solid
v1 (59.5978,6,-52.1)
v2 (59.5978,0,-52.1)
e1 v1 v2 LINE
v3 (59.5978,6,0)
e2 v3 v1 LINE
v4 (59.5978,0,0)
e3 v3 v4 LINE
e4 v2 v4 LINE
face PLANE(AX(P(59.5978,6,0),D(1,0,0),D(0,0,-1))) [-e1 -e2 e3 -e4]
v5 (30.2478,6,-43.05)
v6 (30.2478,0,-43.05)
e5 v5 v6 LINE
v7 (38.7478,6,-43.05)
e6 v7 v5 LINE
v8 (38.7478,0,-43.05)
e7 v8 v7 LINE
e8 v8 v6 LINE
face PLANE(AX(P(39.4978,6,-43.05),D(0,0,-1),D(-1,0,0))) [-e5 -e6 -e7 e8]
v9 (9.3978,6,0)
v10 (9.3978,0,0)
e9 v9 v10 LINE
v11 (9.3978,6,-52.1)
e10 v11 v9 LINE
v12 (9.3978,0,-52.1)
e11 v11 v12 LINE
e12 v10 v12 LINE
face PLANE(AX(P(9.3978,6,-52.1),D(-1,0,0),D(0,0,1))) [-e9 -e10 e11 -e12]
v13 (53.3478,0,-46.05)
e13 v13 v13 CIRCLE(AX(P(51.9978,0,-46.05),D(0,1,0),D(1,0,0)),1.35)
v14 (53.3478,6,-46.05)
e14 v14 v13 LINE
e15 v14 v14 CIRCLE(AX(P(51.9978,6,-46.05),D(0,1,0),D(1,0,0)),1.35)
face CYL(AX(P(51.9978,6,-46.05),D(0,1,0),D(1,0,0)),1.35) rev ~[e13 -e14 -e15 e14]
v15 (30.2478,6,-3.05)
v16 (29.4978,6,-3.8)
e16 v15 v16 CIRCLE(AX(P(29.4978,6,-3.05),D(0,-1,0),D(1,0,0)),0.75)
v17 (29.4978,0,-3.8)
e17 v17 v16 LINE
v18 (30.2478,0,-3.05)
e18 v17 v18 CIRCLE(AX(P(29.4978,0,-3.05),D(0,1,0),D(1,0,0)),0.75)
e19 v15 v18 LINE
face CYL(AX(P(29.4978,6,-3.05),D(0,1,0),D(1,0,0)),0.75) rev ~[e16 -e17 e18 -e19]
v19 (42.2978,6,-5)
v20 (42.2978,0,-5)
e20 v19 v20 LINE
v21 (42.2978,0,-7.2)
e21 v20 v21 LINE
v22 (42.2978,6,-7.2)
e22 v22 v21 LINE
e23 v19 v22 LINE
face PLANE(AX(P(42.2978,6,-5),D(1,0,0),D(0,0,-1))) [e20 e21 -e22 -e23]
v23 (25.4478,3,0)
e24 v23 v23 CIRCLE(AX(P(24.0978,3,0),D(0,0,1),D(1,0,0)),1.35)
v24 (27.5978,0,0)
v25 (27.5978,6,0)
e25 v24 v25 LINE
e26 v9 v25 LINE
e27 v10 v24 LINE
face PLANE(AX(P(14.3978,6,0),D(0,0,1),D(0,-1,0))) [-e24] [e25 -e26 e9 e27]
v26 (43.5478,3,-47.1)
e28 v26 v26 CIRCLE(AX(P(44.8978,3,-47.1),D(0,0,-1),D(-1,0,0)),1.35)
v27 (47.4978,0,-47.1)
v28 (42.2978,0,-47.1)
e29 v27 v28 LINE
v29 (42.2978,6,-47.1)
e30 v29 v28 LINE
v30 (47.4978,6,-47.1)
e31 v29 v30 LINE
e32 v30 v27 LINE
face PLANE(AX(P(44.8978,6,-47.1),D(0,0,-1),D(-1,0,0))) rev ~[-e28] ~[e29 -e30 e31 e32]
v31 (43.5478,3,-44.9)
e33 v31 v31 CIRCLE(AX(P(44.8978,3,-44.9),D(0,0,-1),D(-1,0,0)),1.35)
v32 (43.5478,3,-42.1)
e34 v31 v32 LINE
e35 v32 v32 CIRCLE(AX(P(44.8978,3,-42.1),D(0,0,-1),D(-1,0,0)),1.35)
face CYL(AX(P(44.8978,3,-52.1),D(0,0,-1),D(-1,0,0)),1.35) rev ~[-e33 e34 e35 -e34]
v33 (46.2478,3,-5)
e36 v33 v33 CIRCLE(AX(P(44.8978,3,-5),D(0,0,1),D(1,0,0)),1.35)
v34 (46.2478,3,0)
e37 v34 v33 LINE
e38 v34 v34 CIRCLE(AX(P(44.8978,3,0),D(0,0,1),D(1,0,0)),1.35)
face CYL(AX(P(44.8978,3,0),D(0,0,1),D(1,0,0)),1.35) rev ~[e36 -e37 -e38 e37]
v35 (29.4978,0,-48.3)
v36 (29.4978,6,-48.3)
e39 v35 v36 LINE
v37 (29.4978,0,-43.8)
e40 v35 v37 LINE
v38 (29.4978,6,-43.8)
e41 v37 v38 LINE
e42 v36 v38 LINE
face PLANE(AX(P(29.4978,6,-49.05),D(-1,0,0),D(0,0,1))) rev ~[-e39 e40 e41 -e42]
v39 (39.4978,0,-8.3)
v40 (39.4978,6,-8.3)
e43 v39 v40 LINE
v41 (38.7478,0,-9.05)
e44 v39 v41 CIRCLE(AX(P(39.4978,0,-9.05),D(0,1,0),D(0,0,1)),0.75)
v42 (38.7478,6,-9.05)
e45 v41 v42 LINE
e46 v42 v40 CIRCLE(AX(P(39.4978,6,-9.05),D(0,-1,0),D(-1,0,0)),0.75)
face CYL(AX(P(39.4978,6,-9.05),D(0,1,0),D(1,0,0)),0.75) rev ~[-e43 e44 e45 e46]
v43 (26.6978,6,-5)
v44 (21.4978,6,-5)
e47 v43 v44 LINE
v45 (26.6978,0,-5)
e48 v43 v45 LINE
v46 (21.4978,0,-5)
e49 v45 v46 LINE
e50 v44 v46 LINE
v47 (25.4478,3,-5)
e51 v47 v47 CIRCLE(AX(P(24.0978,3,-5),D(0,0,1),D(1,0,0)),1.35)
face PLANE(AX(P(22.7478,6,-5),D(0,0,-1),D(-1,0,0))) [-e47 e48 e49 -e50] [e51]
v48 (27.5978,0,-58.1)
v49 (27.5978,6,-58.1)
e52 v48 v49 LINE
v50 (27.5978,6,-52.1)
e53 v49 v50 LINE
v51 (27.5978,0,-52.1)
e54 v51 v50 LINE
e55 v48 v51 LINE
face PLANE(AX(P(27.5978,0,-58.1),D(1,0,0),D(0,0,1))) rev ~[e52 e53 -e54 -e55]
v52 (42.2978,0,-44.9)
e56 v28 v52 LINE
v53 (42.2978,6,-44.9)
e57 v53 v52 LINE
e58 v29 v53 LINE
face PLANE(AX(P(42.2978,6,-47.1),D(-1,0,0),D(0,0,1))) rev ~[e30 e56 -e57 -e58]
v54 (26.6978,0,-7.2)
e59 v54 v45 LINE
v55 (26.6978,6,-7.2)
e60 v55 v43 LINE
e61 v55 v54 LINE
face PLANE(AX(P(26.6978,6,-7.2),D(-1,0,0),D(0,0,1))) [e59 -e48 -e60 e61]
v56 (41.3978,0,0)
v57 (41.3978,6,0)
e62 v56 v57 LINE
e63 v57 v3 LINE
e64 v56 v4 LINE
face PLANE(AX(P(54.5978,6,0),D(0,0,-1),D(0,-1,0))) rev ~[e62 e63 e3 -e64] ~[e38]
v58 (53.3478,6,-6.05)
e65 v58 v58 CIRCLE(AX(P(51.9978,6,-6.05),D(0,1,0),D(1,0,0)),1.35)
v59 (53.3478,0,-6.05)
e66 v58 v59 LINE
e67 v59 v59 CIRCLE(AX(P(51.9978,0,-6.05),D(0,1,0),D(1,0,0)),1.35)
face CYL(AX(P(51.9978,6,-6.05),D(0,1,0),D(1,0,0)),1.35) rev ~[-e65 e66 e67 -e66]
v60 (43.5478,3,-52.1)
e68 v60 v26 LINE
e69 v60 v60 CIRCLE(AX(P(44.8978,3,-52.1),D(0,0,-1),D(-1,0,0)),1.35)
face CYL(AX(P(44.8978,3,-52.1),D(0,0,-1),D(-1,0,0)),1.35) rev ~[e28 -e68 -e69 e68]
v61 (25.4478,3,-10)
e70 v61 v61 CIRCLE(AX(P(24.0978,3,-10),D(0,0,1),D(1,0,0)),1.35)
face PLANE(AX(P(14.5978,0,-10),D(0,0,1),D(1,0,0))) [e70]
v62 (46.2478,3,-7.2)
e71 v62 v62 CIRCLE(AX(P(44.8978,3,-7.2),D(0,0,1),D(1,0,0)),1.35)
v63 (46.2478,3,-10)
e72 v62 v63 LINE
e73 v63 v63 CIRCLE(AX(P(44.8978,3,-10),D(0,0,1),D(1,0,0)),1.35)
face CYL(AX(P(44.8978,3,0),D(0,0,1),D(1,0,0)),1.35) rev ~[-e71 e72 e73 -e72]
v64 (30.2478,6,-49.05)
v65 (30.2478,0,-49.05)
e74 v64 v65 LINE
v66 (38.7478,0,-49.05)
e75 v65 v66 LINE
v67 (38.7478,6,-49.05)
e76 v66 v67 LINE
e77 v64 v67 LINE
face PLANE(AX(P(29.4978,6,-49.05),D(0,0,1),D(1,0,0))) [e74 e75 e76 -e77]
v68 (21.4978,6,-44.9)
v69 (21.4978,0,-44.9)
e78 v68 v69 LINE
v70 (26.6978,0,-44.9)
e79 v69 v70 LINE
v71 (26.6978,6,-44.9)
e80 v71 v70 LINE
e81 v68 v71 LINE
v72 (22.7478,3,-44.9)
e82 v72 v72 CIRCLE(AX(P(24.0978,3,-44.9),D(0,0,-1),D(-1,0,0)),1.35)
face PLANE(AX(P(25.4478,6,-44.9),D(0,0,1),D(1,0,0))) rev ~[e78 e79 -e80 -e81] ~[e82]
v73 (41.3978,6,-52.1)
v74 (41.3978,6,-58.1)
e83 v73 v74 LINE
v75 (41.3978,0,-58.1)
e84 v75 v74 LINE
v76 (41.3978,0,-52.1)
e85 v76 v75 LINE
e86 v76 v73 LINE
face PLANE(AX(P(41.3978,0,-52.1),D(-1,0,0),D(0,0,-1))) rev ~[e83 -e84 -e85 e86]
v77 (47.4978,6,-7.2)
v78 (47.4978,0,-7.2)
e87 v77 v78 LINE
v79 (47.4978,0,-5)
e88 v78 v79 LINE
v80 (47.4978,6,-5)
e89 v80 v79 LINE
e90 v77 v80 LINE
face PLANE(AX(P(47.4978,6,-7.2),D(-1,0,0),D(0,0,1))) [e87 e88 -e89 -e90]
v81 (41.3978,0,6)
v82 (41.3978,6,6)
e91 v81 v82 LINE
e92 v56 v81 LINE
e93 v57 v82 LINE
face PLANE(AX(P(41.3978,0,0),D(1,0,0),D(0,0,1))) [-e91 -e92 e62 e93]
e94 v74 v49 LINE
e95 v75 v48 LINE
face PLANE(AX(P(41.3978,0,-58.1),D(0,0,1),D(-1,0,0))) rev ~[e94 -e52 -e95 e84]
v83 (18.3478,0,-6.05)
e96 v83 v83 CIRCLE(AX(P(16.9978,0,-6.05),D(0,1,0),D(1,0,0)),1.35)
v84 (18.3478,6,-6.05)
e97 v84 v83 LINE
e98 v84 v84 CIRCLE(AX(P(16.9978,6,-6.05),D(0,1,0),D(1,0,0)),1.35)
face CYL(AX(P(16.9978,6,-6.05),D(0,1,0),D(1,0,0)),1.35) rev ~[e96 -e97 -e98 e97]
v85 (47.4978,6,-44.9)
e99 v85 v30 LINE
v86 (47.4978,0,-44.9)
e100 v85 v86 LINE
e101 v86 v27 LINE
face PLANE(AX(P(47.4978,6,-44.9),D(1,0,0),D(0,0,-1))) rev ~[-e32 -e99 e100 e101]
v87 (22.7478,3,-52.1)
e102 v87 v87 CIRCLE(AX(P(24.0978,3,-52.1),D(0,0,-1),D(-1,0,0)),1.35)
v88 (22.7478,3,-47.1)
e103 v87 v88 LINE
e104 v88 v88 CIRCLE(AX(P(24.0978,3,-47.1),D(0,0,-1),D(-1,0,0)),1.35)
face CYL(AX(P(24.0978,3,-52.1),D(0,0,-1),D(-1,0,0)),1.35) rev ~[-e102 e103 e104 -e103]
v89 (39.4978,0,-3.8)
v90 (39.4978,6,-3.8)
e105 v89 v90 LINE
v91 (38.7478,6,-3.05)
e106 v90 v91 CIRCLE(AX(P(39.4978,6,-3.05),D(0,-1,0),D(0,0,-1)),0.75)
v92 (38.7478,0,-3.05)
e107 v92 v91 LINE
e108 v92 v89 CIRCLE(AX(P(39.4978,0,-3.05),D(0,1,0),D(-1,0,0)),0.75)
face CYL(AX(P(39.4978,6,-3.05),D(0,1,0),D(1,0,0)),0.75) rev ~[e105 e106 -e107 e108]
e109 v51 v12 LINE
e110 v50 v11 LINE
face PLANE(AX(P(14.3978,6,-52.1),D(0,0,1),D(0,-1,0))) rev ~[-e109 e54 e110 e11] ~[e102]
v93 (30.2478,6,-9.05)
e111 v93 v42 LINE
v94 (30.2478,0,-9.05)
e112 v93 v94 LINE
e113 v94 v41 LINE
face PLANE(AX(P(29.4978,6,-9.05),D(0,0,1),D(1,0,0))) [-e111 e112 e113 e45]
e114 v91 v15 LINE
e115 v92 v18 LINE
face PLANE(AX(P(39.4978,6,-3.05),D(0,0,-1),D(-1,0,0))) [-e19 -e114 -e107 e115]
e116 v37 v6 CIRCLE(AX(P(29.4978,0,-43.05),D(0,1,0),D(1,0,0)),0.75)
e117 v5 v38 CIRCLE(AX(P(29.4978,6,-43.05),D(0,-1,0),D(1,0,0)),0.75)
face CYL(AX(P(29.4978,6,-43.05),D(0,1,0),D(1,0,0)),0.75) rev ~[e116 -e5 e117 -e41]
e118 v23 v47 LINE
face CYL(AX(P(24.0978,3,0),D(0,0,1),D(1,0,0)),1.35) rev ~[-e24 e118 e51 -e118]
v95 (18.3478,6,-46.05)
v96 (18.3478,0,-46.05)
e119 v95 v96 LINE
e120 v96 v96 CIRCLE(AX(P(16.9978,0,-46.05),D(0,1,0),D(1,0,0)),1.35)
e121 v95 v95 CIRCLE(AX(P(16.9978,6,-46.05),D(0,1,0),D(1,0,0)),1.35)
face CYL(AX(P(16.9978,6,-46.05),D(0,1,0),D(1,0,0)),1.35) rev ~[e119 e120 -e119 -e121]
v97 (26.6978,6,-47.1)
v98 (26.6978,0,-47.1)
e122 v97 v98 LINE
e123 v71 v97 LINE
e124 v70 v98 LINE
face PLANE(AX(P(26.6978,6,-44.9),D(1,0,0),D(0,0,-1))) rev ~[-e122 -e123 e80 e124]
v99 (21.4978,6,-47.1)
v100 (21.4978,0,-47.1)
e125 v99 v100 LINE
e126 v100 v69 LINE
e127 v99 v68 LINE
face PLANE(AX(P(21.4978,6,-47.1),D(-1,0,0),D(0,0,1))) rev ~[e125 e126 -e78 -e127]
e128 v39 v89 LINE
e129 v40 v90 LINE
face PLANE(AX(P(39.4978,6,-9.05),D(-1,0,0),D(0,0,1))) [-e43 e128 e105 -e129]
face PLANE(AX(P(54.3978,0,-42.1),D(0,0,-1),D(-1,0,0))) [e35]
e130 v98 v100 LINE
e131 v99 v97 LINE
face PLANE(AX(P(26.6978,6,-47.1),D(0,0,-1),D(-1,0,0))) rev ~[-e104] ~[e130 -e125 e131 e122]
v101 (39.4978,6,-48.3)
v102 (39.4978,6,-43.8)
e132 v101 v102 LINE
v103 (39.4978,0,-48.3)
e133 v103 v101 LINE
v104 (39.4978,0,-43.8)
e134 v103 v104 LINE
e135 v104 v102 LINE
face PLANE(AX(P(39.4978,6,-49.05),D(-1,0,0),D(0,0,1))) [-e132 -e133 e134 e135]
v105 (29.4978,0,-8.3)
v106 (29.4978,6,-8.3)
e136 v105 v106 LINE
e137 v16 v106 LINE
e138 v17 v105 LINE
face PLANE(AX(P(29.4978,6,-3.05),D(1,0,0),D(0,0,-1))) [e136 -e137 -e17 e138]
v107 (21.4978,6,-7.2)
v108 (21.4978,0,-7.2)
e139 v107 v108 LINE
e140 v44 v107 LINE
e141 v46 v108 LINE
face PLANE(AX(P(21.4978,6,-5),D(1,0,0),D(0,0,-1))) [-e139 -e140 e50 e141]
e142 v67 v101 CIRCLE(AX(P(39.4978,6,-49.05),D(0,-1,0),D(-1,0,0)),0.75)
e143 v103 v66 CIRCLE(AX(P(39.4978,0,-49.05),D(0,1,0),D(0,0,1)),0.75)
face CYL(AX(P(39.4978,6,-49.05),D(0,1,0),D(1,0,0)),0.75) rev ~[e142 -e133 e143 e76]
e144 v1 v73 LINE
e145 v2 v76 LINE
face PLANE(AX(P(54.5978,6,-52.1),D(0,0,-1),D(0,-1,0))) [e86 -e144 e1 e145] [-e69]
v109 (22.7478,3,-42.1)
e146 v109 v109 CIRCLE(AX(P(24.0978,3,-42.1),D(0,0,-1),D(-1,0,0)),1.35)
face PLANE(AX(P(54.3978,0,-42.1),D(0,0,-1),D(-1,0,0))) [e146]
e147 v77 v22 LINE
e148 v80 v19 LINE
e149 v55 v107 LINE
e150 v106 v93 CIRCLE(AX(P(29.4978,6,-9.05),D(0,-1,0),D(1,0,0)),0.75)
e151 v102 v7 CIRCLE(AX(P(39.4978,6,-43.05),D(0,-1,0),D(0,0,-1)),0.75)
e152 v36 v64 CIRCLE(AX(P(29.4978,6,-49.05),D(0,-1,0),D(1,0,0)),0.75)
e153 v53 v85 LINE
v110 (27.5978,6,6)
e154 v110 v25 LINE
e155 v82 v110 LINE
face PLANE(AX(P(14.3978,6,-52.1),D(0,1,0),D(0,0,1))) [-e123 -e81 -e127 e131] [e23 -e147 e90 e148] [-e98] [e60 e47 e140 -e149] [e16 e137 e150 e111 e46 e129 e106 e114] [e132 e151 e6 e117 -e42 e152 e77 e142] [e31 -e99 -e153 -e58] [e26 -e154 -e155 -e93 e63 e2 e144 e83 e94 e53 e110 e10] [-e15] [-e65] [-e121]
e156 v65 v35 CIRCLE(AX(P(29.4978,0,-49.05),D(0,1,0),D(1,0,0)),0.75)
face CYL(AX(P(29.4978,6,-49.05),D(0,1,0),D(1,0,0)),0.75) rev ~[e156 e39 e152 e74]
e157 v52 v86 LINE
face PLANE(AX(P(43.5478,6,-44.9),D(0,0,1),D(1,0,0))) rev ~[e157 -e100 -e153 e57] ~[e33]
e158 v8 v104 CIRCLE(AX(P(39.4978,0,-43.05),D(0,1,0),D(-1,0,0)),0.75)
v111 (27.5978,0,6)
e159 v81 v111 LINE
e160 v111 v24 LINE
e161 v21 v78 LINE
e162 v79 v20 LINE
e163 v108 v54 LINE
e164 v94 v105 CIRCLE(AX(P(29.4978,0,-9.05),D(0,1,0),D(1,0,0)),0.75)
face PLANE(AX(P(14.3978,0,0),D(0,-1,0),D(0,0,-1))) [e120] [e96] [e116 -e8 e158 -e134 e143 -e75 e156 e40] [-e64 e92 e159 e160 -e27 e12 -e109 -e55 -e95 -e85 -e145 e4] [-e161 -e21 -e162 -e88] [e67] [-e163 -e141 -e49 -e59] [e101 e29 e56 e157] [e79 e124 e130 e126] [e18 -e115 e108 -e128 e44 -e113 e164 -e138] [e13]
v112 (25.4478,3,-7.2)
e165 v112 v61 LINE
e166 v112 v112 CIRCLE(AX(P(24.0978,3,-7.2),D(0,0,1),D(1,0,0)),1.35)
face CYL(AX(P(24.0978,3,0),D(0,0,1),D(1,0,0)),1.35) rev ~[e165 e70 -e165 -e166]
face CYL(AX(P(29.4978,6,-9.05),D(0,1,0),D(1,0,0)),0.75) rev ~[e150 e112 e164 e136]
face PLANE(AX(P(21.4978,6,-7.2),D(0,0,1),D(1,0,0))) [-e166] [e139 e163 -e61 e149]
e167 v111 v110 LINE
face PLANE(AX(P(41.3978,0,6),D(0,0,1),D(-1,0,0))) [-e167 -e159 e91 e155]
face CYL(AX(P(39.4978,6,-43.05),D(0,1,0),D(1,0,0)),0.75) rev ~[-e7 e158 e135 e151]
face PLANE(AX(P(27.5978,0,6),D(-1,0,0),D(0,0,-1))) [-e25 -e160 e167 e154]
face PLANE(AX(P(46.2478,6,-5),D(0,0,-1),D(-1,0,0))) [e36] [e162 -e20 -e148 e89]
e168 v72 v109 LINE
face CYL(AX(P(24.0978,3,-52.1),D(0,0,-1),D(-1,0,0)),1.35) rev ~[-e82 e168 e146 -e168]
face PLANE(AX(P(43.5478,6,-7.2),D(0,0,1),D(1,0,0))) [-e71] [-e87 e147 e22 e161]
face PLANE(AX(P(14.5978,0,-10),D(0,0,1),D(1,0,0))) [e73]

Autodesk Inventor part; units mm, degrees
ref_plane "YZ Plane" through (0, 0, 0) normal (1, 0, 0) x (0, 1, 0)
ref_plane "XZ Plane" through (0, 0, 0) normal (0, 1, 0) x (-1, 0, 0)
ref_plane "XY Plane" through (0, 0, 0) normal (0, 0, 1) x (1, 0, 0)
sketch "스케치1" plane through (0, 0, 0) normal (0, 1, 0) x (-1, 0, 0)
  line L0 (0, 0) -> (27.8, 0)
  line L1 (27.8, 0) -> (27.8, -52.1)
  line L2 (27.8, -52.1) -> (0, -52.1)
  line L3 (0, -52.1) -> (0, 0)
  line L4 (27.8, 0) -> (20.8, 0)
  line L5 (20.8, 0) -> (7, 0)
  line L6 (20.8, 0) -> (7, 0)
  line L7 (7, 0) -> (7, 6)
  line L8 (7, 6) -> (20.8, 6)
  line L9 (20.8, 6) -> (20.8, 0)
  line L10 (20.8, -52.1) -> (7, -52.1)
  line L11 (7, -52.1) -> (7, -58.1)
  line L12 (7, -58.1) -> (20.8, -58.1)
  line L13 (20.8, -58.1) -> (20.8, -52.1)
  line L14 (-20.5978, 0) -> (-48.3978, 0)
  line L15 (-48.3978, -52.1) -> (-20.5978, -52.1)
  line L16 (-34.4978, -52.1) -> (-27.5978, -52.1)
  line L17 (-27.5978, -52.1) -> (-41.3978, -52.1)
  line L18 (-41.3978, -52.1) -> (-41.3978, -58.1)
  line L19 (-41.3978, -58.1) -> (-27.5978, -58.1)
  line L20 (-27.5978, -58.1) -> (-27.5978, -52.1)
  line L21 (-27.5978, 0) -> (-41.3978, 0)
  line L22 (-41.3978, 0) -> (-41.3978, 6)
  line L23 (-41.3978, 6) -> (-27.5978, 6)
  line L24 (-27.5978, 6) -> (-27.5978, 0)
  line L25 (-20.5978, -52.1) -> (-14.5978, -52.1)
  line L26 (-14.5978, -52.1) -> (-14.5978, 0)
  line L27 (-14.5978, 0) -> (-20.5978, 0)
  line L28 (-48.3978, -52.1) -> (-54.3978, -52.1)
  line L29 (-54.3978, -52.1) -> (-54.3978, 0)
  line L30 (-54.3978, 0) -> (-48.3978, 0)
  line L31 (-48.3978, 0) -> (-48.3978, -52.1)
  point P0 (-27.5978, 3)
  point P1 (-41.3978, 3)
  dimension "d0" = 27.8
  dimension "d1" = 52.1
  dimension "d2" = 7
  dimension "d4" = 13.8
  dimension "d5" = 6
  dimension "d6" = 6
  dimension "d33" = 27.8
  dimension "d34" = 52.1
  dimension "d35" = 6.9
  dimension "d36" = 13.8
  dimension "d37" = 13.8
  dimension "d59" = 6
  dimension "d60" = 6
extrude "돌출1" add sketch "스케치1" along normal blind 6 contours L27 L26 L25 L15 L31 L14 | L14 L22 L23 L24 | L31 L28 L29 L30 | L20 L19 L18 L15
sketch "스케치25" plane through (14.5978, 0, 0) normal (0, 0, 1) x (1, 0, 0)
  circle A0 centre (9.5, 3) radius 1.35 projected
  circle A1 centre (30.3, 3) radius 1.35 projected
  point P0 (-14.5978, 0)
extrude "돌출21" cut sketch "스케치25" against normal blind 10
sketch "스케치26" plane through (54.3978, 0, -52.1) normal (0, 0, -1) x (-1, 0, 0)
  circle A0 centre (9.5, 3) radius 1.35 projected
  circle A1 centre (30.3, 3) radius 1.35 projected
  point P0 (54.3978, 0)
extrude "돌출22" cut sketch "스케치26" against normal blind 10
sketch "스케치27" plane through (0, 6, 0) normal (0, 1, 0) x (1, 0, 0)
  line L0 (27.5978, 52.1) -> (14.5978, 52.1) projected
  line L1 (27.5978, 52.1) -> (14.5978, 52.1) projected
  line L2 (27.5978, 58.1) -> (27.5978, 52.1) projected
  line L3 (27.5978, 52.1) -> (14.5978, 52.1) projected
  line L4 (14.5978, 52.1) -> (14.5978, 0) projected
  line L5 (14.5978, 0) -> (27.5978, 0) projected
  line L6 (27.5978, 0) -> (27.5978, -6) projected
  line L7 (27.5978, -6) -> (41.3978, -6) projected
  line L8 (41.3978, -6) -> (41.3978, 0) projected
  line L9 (41.3978, 0) -> (54.3978, 0) projected
  line L10 (54.3978, 0) -> (54.3978, 52.1) projected
  line L11 (54.3978, 52.1) -> (41.3978, 52.1) projected
  line L12 (41.3978, 52.1) -> (41.3978, 58.1) projected
  line L13 (41.3978, 58.1) -> (27.5978, 58.1) projected
  line L14 (27.5978, 58.1) -> (27.5978, 52.1) projected
  line L15 (41.3978, 58.1) -> (27.5978, 58.1) projected
  line L16 (41.3978, 52.1) -> (41.3978, 58.1) projected
  line L17 (54.3978, 52.1) -> (41.3978, 52.1) projected
  line L18 (54.3978, 0) -> (54.3978, 52.1) projected
  line L19 (41.3978, 0) -> (54.3978, 0) projected
  line L20 (41.3978, -6) -> (41.3978, 0) projected
  line L21 (27.5978, -6) -> (41.3978, -6) projected
  line L22 (27.5978, 0) -> (27.5978, -6) projected
  line L23 (14.5978, 0) -> (27.5978, 0) projected
  line L24 (14.5978, 52.1) -> (14.5978, 0) projected
  line L25 (27.5978, 52.1) -> (14.5978, 52.1) projected
  line L26 (14.5978, 52.1) -> (14.5978, 0) projected
  line L27 (14.5978, 52.1) -> (14.5978, 0) projected
  line L28 (14.5978, 52.1) -> (14.5978, 0) projected
  line L29 (14.5978, 52.1) -> (14.5978, 0) projected
  line L30 (54.3978, 0) -> (54.3978, 52.1) projected
  line L31 (54.3978, 0) -> (54.3978, 52.1) projected
  line L32 (54.3978, 0) -> (54.3978, 52.1) projected
  line L33 (54.3978, 0) -> (54.3978, 52.1) projected
  line L34 (22.7478, 42.1) -> (25.4478, 42.1) projected
  line L35 (22.7478, 42.1) -> (25.4478, 42.1) projected
  line L36 (43.5478, 42.1) -> (46.2478, 42.1) projected
  line L37 (43.5478, 52.1) -> (46.2478, 52.1) projected
  line L38 (43.5478, 52.1) -> (46.2478, 52.1) projected
  line L39 (54.3978, 52.1) -> (41.3978, 52.1) projected
  line L40 (54.3978, 52.1) -> (41.3978, 52.1) projected
  line L41 (43.5478, 52.1) -> (46.2478, 52.1) projected
  line L42 (54.3978, 52.1) -> (41.3978, 52.1) projected
  line L43 (54.3978, 52.1) -> (41.3978, 52.1) projected
  line L44 (43.5478, 42.1) -> (46.2478, 42.1) projected
  line L45 (43.5478, 42.1) -> (46.2478, 42.1) projected
  line L46 (22.7478, 52.1) -> (25.4478, 52.1) projected
  line L47 (22.7478, 52.1) -> (25.4478, 52.1) projected
  line L48 (27.5978, 52.1) -> (14.5978, 52.1) projected
  line L49 (27.5978, 52.1) -> (14.5978, 52.1) projected
  line L50 (46.2478, 10) -> (43.5478, 10) projected
  line L51 (46.2478, 10) -> (43.5478, 10) projected
  line L52 (46.2478, 10) -> (43.5478, 10) projected
  line L53 (46.2478, 0) -> (43.5478, 0) projected
  line L54 (25.4478, 10) -> (22.7478, 10) projected
  line L55 (25.4478, 10) -> (22.7478, 10) projected
  line L56 (41.3978, -6) -> (41.3978, 0) projected
  line L57 (41.3978, -6) -> (41.3978, 0) projected
  line L58 (41.3978, -6) -> (41.3978, 0) projected
  line L59 (41.3978, -6) -> (41.3978, 0) projected
  line L60 (25.4478, 10) -> (22.7478, 10) projected
  line L61 (25.4478, 0) -> (22.7478, 0) projected
  line L62 (25.4478, 0) -> (22.7478, 0) projected
  line L63 (27.5978, 0) -> (27.5978, -6) projected
  line L64 (27.5978, 0) -> (27.5978, -6) projected
  line L65 (27.5978, 0) -> (27.5978, -6) projected
  line L66 (14.5978, 0) -> (27.5978, 0) projected
  line L67 (14.5978, 0) -> (27.5978, 0) projected
  line L68 (25.4478, 0) -> (22.7478, 0) projected
  line L69 (14.5978, 0) -> (27.5978, 0) projected
  line L70 (14.5978, 0) -> (27.5978, 0) projected
  line L71 (27.5978, 0) -> (27.5978, -6) projected
  line L72 (46.2478, 0) -> (43.5478, 0) projected
  line L73 (41.3978, 0) -> (54.3978, 0) projected
  line L74 (41.3978, 0) -> (54.3978, 0) projected
  line L75 (46.2478, 0) -> (43.5478, 0) projected
  line L76 (41.3978, 0) -> (54.3978, 0) projected
  line L77 (41.3978, 0) -> (54.3978, 0) projected
  line L78 (22.7478, 42.1) -> (25.4478, 42.1) projected
  line L79 (22.7478, 52.1) -> (25.4478, 52.1) projected
  line L80 (27.5978, -6) -> (41.3978, -6) projected
  line L81 (27.5978, -6) -> (41.3978, -6) projected
  line L82 (27.5978, -6) -> (41.3978, -6) projected
  line L83 (27.5978, -6) -> (41.3978, -6) projected
  line L84 (27.5978, 58.1) -> (27.5978, 52.1) projected
  line L85 (27.5978, 58.1) -> (27.5978, 52.1) projected
  line L86 (27.5978, 58.1) -> (27.5978, 52.1) projected
  line L87 (27.5978, 58.1) -> (27.5978, 52.1) projected
  line L88 (41.3978, 58.1) -> (27.5978, 58.1) projected
  line L89 (41.3978, 58.1) -> (27.5978, 58.1) projected
  line L90 (41.3978, 58.1) -> (27.5978, 58.1) projected
  line L91 (41.3978, 58.1) -> (27.5978, 58.1) projected
  line L92 (41.3978, 52.1) -> (41.3978, 58.1) projected
  line L93 (41.3978, 52.1) -> (41.3978, 58.1) projected
  line L94 (41.3978, 52.1) -> (41.3978, 58.1) projected
  line L95 (41.3978, 52.1) -> (41.3978, 58.1) projected
  line L96 (22.7478, 52.1) -> (22.7478, 42.1) projected
  line L97 (25.4478, 52.1) -> (25.4478, 42.1) projected
  line L98 (43.5478, 52.1) -> (43.5478, 42.1) projected
  line L99 (46.2478, 52.1) -> (46.2478, 42.1) projected
  line L100 (46.2478, 0) -> (46.2478, 10) projected
  line L101 (43.5478, 0) -> (43.5478, 10) projected
  line L102 (25.4478, 0) -> (25.4478, 10) projected
  line L103 (22.7478, 0) -> (22.7478, 10) projected
  line L104 (44.8978, 0) -> (44.8978, 6.1)
  line L105 (47.4978, 5) -> (42.2978, 5)
  line L106 (42.2978, 5) -> (42.2978, 7.2)
  line L107 (42.2978, 7.2) -> (47.4978, 7.2)
  line L108 (47.4978, 7.2) -> (47.4978, 5)
  line L109 (47.4978, 5) -> (42.2978, 7.2) construction
  line L110 (42.2978, 5) -> (47.4978, 7.2) construction
  line L111 (26.6978, 5) -> (21.4978, 5)
  line L112 (21.4978, 5) -> (21.4978, 7.2)
  line L113 (21.4978, 7.2) -> (26.6978, 7.2)
  line L114 (26.6978, 7.2) -> (26.6978, 5)
  line L115 (26.6978, 5) -> (21.4978, 7.2) construction
  line L116 (21.4978, 5) -> (26.6978, 7.2) construction
  line L117 (44.8978, 52.1) -> (44.8978, 46)
  line L118 (47.4978, 47.1) -> (42.2978, 47.1)
  line L119 (42.2978, 47.1) -> (42.2978, 44.9)
  line L120 (42.2978, 44.9) -> (47.4978, 44.9)
  line L121 (47.4978, 44.9) -> (47.4978, 47.1)
  line L122 (47.4978, 47.1) -> (42.2978, 44.9) construction
  line L123 (42.2978, 47.1) -> (47.4978, 44.9) construction
  line L124 (26.6978, 47.1) -> (21.4978, 47.1)
  line L125 (21.4978, 47.1) -> (21.4978, 44.9)
  line L126 (21.4978, 44.9) -> (26.6978, 44.9)
  line L127 (26.6978, 44.9) -> (26.6978, 47.1)
  line L128 (26.6978, 47.1) -> (21.4978, 44.9) construction
  line L129 (21.4978, 47.1) -> (26.6978, 44.9) construction
  point P0 (0, 0)
  point P1 (24.0978, 6.1)
  point P2 (24.0978, 46)
  dimension "d183" = 6.1
  dimension "d184" = 5.2
  dimension "d185" = 2.2
  dimension "d186" = 5.2
  dimension "d187" = 2.2
  dimension "d188" = 6.1
  dimension "d189" = 5.2
  dimension "d190" = 2.2
  dimension "d191" = 5.2
  dimension "d192" = 2.2
extrude "돌출23" cut sketch "스케치27" against normal blind 10 contours L124 L127 L126 L97 | L97 L126 L96 L124 | L96 L126 L125 L124 | L118 L99 L120 L98 | L98 L120 L119 L118 | L111 L112 L113 L103 | L103 L113 L102 L111 | L102 L113 L114 L111 | L118 L121 L120 L99 | L105 L101 L107 L100 | L100 L107 L108 L105 | L105 L106 L107 L101
sketch "스케치28" plane through (0, 6, 0) normal (0, 1, 0) x (1, 0, 0)
  line L0 (26.6978, 47.1) -> (26.6978, 44.9) projected
  line L1 (26.6978, 44.9) -> (21.4978, 44.9) projected
  line L2 (21.4978, 44.9) -> (21.4978, 47.1) projected
  line L3 (21.4978, 47.1) -> (26.6978, 47.1) projected
  line L4 (21.4978, 5) -> (21.4978, 7.2) projected
  line L5 (21.4978, 7.2) -> (26.6978, 7.2) projected
  line L6 (26.6978, 7.2) -> (26.6978, 5) projected
  line L7 (26.6978, 5) -> (21.4978, 5) projected
  line L8 (47.4978, 47.1) -> (47.4978, 44.9) projected
  line L9 (47.4978, 44.9) -> (42.2978, 44.9) projected
  line L10 (42.2978, 44.9) -> (42.2978, 47.1) projected
  line L11 (42.2978, 47.1) -> (47.4978, 47.1) projected
  line L12 (42.2978, 5) -> (42.2978, 7.2) projected
  line L13 (42.2978, 7.2) -> (47.4978, 7.2) projected
  line L14 (47.4978, 7.2) -> (47.4978, 5) projected
  line L15 (47.4978, 5) -> (42.2978, 5) projected
  line L16 (27.5978, 58.1) -> (27.5978, 52.1) projected
  line L17 (27.5978, 52.1) -> (14.5978, 52.1) projected
  line L18 (14.5978, 52.1) -> (14.5978, 0) projected
  line L19 (14.5978, 0) -> (27.5978, 0) projected
  line L20 (27.5978, 0) -> (27.5978, -6) projected
  line L21 (27.5978, -6) -> (41.3978, -6) projected
  line L22 (41.3978, -6) -> (41.3978, 0) projected
  line L23 (41.3978, 0) -> (54.3978, 0) projected
  line L24 (54.3978, 0) -> (54.3978, 52.1) projected
  line L25 (54.3978, 52.1) -> (41.3978, 52.1) projected
  line L26 (41.3978, 52.1) -> (41.3978, 58.1) projected
  line L27 (41.3978, 58.1) -> (27.5978, 58.1) projected
  line L28 (14.5978, 0) -> (27.5978, 0) projected
  line L29 (14.5978, 0) -> (14.3978, 0)
  line L30 (14.3978, 0) -> (14.3978, 52.1)
  line L31 (14.3978, 52.1) -> (14.5978, 52.1)
  line L32 (14.5978, 52.1) -> (14.5978, 0)
  line L33 (54.3978, 0) -> (54.5978, 0)
  line L34 (54.5978, 0) -> (54.5978, 52.1)
  line L35 (54.5978, 52.1) -> (54.3978, 52.1)
  line L36 (54.3978, 52.1) -> (54.3978, 0)
  point P0 (0, 0)
  dimension "d195" = 39.8
  dimension "d196" = 0.2
  dimension "d197" = 0.2
extrude "돌출24" add sketch "스케치28" against normal blind 6 contours L18 L29 L30 L31 | L35 L34 L33 L24
sketch "스케치29" plane through (0, 6, 0) normal (0, 1, 0) x (1, 0, 0)
  line L0 (39.4978, 49.05) -> (39.4978, 43.05)
  line L1 (39.4978, 43.05) -> (54.5978, 43.05)
  line L2 (54.5978, 43.05) -> (54.5978, 49.05)
  line L3 (39.4978, 49.05) -> (54.5978, 49.05)
  line L4 (29.4978, 49.05) -> (39.4978, 49.05)
  line L5 (29.4978, 49.05) -> (29.4978, 43.05)
  line L6 (39.4978, 43.05) -> (29.4978, 43.05)
  line L7 (39.4978, 49.05) -> (39.4978, 43.05)
  line L8 (39.4978, 9.05) -> (39.4978, 3.05)
  line L9 (54.5978, 3.05) -> (39.4978, 3.05)
  line L10 (54.5978, 9.05) -> (54.5978, 3.05)
  line L11 (54.5978, 9.05) -> (39.4978, 9.05)
  line L12 (39.4978, 3.05) -> (29.4978, 3.05)
  line L13 (39.4978, 3.05) -> (39.4978, 9.05)
  line L14 (29.4978, 9.05) -> (39.4978, 9.05)
  line L15 (29.4978, 3.05) -> (29.4978, 9.05)
  line L16 (29.4978, 3.05) -> (29.4978, 9.05)
  line L17 (29.4978, 9.05) -> (14.3978, 9.05)
  line L18 (14.3978, 9.05) -> (14.3978, 3.05)
  line L19 (29.4978, 3.05) -> (14.3978, 3.05)
  line L20 (29.4978, 43.05) -> (29.4978, 49.05)
  line L21 (14.3978, 49.05) -> (29.4978, 49.05)
  line L22 (14.3978, 43.05) -> (14.3978, 49.05)
  line L23 (14.3978, 43.05) -> (29.4978, 43.05)
  line L24 (26.6978, 47.1) -> (26.6978, 44.9) projected
  line L25 (26.6978, 44.9) -> (21.4978, 44.9) projected
  line L26 (21.4978, 44.9) -> (21.4978, 47.1) projected
  line L27 (21.4978, 47.1) -> (26.6978, 47.1) projected
  line L28 (21.4978, 5) -> (21.4978, 7.2) projected
  line L29 (21.4978, 7.2) -> (26.6978, 7.2) projected
  line L30 (26.6978, 7.2) -> (26.6978, 5) projected
  line L31 (26.6978, 5) -> (21.4978, 5) projected
  line L32 (47.4978, 47.1) -> (47.4978, 44.9) projected
  line L33 (47.4978, 44.9) -> (42.2978, 44.9) projected
  line L34 (42.2978, 44.9) -> (42.2978, 47.1) projected
  line L35 (42.2978, 47.1) -> (47.4978, 47.1) projected
  line L36 (42.2978, 5) -> (42.2978, 7.2) projected
  line L37 (42.2978, 7.2) -> (47.4978, 7.2) projected
  line L38 (47.4978, 7.2) -> (47.4978, 5) projected
  line L39 (47.4978, 5) -> (42.2978, 5) projected
  line L40 (27.5978, 58.1) -> (27.5978, 52.1) projected
  line L41 (27.5978, 52.1) -> (14.3978, 52.1) projected
  line L42 (14.3978, 52.1) -> (14.3978, 0) projected
  line L43 (14.3978, 0) -> (27.5978, 0) projected
  line L44 (27.5978, 0) -> (27.5978, -6) projected
  line L45 (27.5978, -6) -> (41.3978, -6) projected
  line L46 (41.3978, -6) -> (41.3978, 0) projected
  line L47 (41.3978, 0) -> (54.5978, 0) projected
  line L48 (54.5978, 0) -> (54.5978, 52.1) projected
  line L49 (54.5978, 52.1) -> (41.3978, 52.1) projected
  line L50 (41.3978, 52.1) -> (41.3978, 58.1) projected
  line L51 (41.3978, 58.1) -> (27.5978, 58.1) projected
  line L52 (54.5978, 9.05) -> (14.3978, 9.05)
  line L53 (14.3978, 9.05) -> (14.3978, 43.05)
  line L54 (14.3978, 43.05) -> (54.5978, 43.05)
  line L55 (54.5978, 43.05) -> (54.5978, 9.05)
  point P0 (0, 0)
extrude "돌출25" cut sketch "스케치29" against normal blind 6 contours L0 L6 L5 L4 | L8 L12 L15 L14
sketch "스케치30" plane through (0, 6, 0) normal (0, 1, 0) x (1, 0, 0)
  line L0 (46.2478, 10) -> (43.5478, 10) projected
  line L1 (39.4978, 43.05) -> (29.4978, 43.05) projected
  line L2 (29.4978, 43.05) -> (29.4978, 49.05) projected
  line L3 (29.4978, 49.05) -> (39.4978, 49.05) projected
  line L4 (39.4978, 49.05) -> (39.4978, 43.05) projected
  line L5 (29.4978, 9.05) -> (39.4978, 9.05) projected
  line L6 (39.4978, 9.05) -> (39.4978, 3.05) projected
  line L7 (39.4978, 3.05) -> (29.4978, 3.05) projected
  line L8 (29.4978, 3.05) -> (29.4978, 9.05) projected
  line L9 (26.6978, 47.1) -> (26.6978, 44.9) projected
  line L10 (26.6978, 44.9) -> (21.4978, 44.9) projected
  line L11 (21.4978, 44.9) -> (21.4978, 47.1) projected
  line L12 (21.4978, 47.1) -> (26.6978, 47.1) projected
  line L13 (21.4978, 5) -> (21.4978, 7.2) projected
  line L14 (21.4978, 7.2) -> (26.6978, 7.2) projected
  line L15 (26.6978, 7.2) -> (26.6978, 5) projected
  line L16 (26.6978, 5) -> (21.4978, 5) projected
  line L17 (47.4978, 47.1) -> (47.4978, 44.9) projected
  line L18 (47.4978, 44.9) -> (42.2978, 44.9) projected
  line L19 (42.2978, 44.9) -> (42.2978, 47.1) projected
  line L20 (42.2978, 47.1) -> (47.4978, 47.1) projected
  line L21 (42.2978, 5) -> (42.2978, 7.2) projected
  line L22 (42.2978, 7.2) -> (47.4978, 7.2) projected
  line L23 (47.4978, 7.2) -> (47.4978, 5) projected
  line L24 (47.4978, 5) -> (42.2978, 5) projected
  line L25 (27.5978, 58.1) -> (27.5978, 52.1) projected
  line L26 (27.5978, 52.1) -> (14.3978, 52.1) projected
  line L27 (14.3978, 52.1) -> (14.3978, 0) projected
  line L28 (14.3978, 0) -> (27.5978, 0) projected
  line L29 (27.5978, 0) -> (27.5978, -6) projected
  line L30 (27.5978, -6) -> (41.3978, -6) projected
  line L31 (41.3978, -6) -> (41.3978, 0) projected
  line L32 (41.3978, 0) -> (54.5978, 0) projected
  line L33 (54.5978, 0) -> (54.5978, 52.1) projected
  line L34 (54.5978, 52.1) -> (41.3978, 52.1) projected
  line L35 (41.3978, 52.1) -> (41.3978, 58.1) projected
  line L36 (41.3978, 58.1) -> (27.5978, 58.1) projected
  line L37 (54.5978, 0) -> (54.5978, 3.05)
  line L38 (54.5978, 52.1) -> (54.5978, 49.05)
  line L39 (54.5978, 3.05) -> (49.3978, 3.05)
  line L40 (49.3978, 3.05) -> (49.3978, 9.05)
  line L41 (49.3978, 9.05) -> (54.5978, 9.05)
  line L42 (54.5978, 9.05) -> (54.5978, 3.05)
  line L43 (14.3978, 0) -> (14.3978, 52.1) projected
  line L44 (14.3978, 8.05) -> (14.3978, 2.05)
  line L45 (54.5978, 49.05) -> (49.3978, 49.05)
  line L46 (49.3978, 49.05) -> (49.3978, 43.05)
  line L47 (49.3978, 43.05) -> (54.5978, 43.05)
  line L48 (54.5978, 43.05) -> (54.5978, 49.05)
  line L49 (14.3978, 49.05) -> (19.5978, 49.05)
  line L50 (19.5978, 49.05) -> (19.5978, 43.05)
  line L51 (19.5978, 43.05) -> (14.3978, 43.05)
  line L52 (14.3978, 43.05) -> (14.3978, 49.05)
  circle A0 centre (51.9978, 46.05) radius 1.35
  circle A1 centre (16.9978, 46.05) radius 1.35
  circle A2 centre (51.9978, 6.05) radius 1.35
  line L53 (14.3978, 3.05) -> (19.5978, 3.05)
  line L54 (19.5978, 3.05) -> (19.5978, 9.05)
  line L55 (19.5978, 9.05) -> (14.3978, 9.05)
  line L56 (14.3978, 9.05) -> (14.3978, 3.05)
  circle A3 centre (16.9978, 6.05) radius 1.35
  point P0 (0, 0)
  dimension "d202" = 3.05
  dimension "d203" = 3.05
  dimension "d204" = 5.2
  dimension "d205" = 6
  dimension "d210" = 5.2
  dimension "d211" = 6
  dimension "d212" = 5.2
  dimension "d213" = 6
  dimension "d218" = 2.7
  dimension "d219" = 2.7
  dimension "d220" = 2.7
  dimension "d222" = 5.2
  dimension "d223" = 6
  dimension "d224" = 2.7
extrude "돌출26" cut sketch "스케치30" against normal blind 6 contours A0 | A1 | A2 | A3
sketch "스케치31" plane through (0, 6, 0) normal (0, 1, 0) x (1, 0, 0)
  circle A0 centre (51.9978, 46.05) radius 1.35 projected
  circle A1 centre (51.9978, 6.05) radius 1.35 projected
  circle A2 centre (16.9978, 46.05) radius 1.35 projected
  circle A3 centre (16.9978, 6.05) radius 1.35 projected
  line L0 (39.4978, 43.05) -> (29.4978, 43.05) projected
  line L1 (29.4978, 43.05) -> (29.4978, 49.05) projected
  line L2 (29.4978, 49.05) -> (39.4978, 49.05) projected
  line L3 (39.4978, 49.05) -> (39.4978, 43.05) projected
  line L4 (29.4978, 9.05) -> (39.4978, 9.05) projected
  line L5 (39.4978, 9.05) -> (39.4978, 3.05) projected
  line L6 (39.4978, 3.05) -> (29.4978, 3.05) projected
  line L7 (29.4978, 3.05) -> (29.4978, 9.05) projected
  line L8 (26.6978, 47.1) -> (26.6978, 44.9) projected
  line L9 (26.6978, 44.9) -> (21.4978, 44.9) projected
  line L10 (21.4978, 44.9) -> (21.4978, 47.1) projected
  line L11 (21.4978, 47.1) -> (26.6978, 47.1) projected
  line L12 (21.4978, 5) -> (21.4978, 7.2) projected
  line L13 (21.4978, 7.2) -> (26.6978, 7.2) projected
  line L14 (26.6978, 7.2) -> (26.6978, 5) projected
  line L15 (26.6978, 5) -> (21.4978, 5) projected
  line L16 (47.4978, 47.1) -> (47.4978, 44.9) projected
  line L17 (47.4978, 44.9) -> (42.2978, 44.9) projected
  line L18 (42.2978, 44.9) -> (42.2978, 47.1) projected
  line L19 (42.2978, 47.1) -> (47.4978, 47.1) projected
  line L20 (42.2978, 5) -> (42.2978, 7.2) projected
  line L21 (42.2978, 7.2) -> (47.4978, 7.2) projected
  line L22 (47.4978, 7.2) -> (47.4978, 5) projected
  line L23 (47.4978, 5) -> (42.2978, 5) projected
  line L24 (27.5978, 58.1) -> (27.5978, 52.1) projected
  line L25 (27.5978, 52.1) -> (14.3978, 52.1) projected
  line L26 (14.3978, 52.1) -> (14.3978, 0) projected
  line L27 (14.3978, 0) -> (27.5978, 0) projected
  line L28 (27.5978, 0) -> (27.5978, -6) projected
  line L29 (27.5978, -6) -> (41.3978, -6) projected
  line L30 (41.3978, -6) -> (41.3978, 0) projected
  line L31 (41.3978, 0) -> (54.5978, 0) projected
  line L32 (54.5978, 0) -> (54.5978, 52.1) projected
  line L33 (54.5978, 52.1) -> (41.3978, 52.1) projected
  line L34 (41.3978, 52.1) -> (41.3978, 58.1) projected
  line L35 (41.3978, 58.1) -> (27.5978, 58.1) projected
  circle A4 centre (29.4978, 49.05) radius 0.75
  circle A5 centre (39.4978, 49.05) radius 0.75
  circle A6 centre (39.4978, 43.05) radius 0.75
  line L36 (39.4978, 43.05) -> (29.4978, 43.05) projected
  circle A7 centre (29.4978, 43.05) radius 0.75
  circle A8 centre (29.4978, 9.05) radius 0.75
  circle A9 centre (39.4978, 9.05) radius 0.75
  circle A10 centre (39.4978, 3.05) radius 0.75
  circle A11 centre (29.4978, 3.05) radius 0.75
  point P0 (0, 0)
  dimension "d225" = 1.5
  dimension "d226" = 1.5
  dimension "d227" = 1.5
  dimension "d228" = 1.5
  dimension "d229" = 1.5
  dimension "d230" = 1.5
  dimension "d231" = 1.5
  dimension "d232" = 1.5
extrude "돌출27" cut sketch "스케치31" against normal blind 6 contours A7 L1 L0 | L0 L1 A7 | A6 L3 L0 | L0 L3 A6 | A4 L2 L1 | L1 L2 A4 | A5 L2 L3 | L3 L2 A5 | L7 A8 L4 | L4 A8 L7 | A9 L5 L4 | L4 L5 A9 | A11 L6 L7 | L7 L6 A11 | A10 L6 L5 | L5 L6 A10
sketch "스케치32" plane through (54.5978, 6, 0) normal (1, 0, 0) x (0, 0, -1)
  line L0 (0, 0) -> (52.1, 0) projected
  line L1 (0, 0) -> (0, -6) projected
  line L2 (52.1, -6) -> (0, -6) projected
  line L3 (52.1, 0) -> (52.1, -6) projected
extrude "돌출28" add sketch "스케치32" along normal blind 5
sketch "스케치33" plane through (14.3978, 6, -52.1) normal (-1, 0, 0) x (0, 0, 1)
  line L0 (0, 0) -> (52.1, 0) projected
  line L1 (0, 0) -> (0, -6) projected
  line L2 (52.1, -6) -> (0, -6) projected
  line L3 (52.1, 0) -> (52.1, -6) projected
extrude "돌출29" add sketch "스케치33" along normal blind 5
properties part number "bridge1" material "PMMA 플라스틱"
